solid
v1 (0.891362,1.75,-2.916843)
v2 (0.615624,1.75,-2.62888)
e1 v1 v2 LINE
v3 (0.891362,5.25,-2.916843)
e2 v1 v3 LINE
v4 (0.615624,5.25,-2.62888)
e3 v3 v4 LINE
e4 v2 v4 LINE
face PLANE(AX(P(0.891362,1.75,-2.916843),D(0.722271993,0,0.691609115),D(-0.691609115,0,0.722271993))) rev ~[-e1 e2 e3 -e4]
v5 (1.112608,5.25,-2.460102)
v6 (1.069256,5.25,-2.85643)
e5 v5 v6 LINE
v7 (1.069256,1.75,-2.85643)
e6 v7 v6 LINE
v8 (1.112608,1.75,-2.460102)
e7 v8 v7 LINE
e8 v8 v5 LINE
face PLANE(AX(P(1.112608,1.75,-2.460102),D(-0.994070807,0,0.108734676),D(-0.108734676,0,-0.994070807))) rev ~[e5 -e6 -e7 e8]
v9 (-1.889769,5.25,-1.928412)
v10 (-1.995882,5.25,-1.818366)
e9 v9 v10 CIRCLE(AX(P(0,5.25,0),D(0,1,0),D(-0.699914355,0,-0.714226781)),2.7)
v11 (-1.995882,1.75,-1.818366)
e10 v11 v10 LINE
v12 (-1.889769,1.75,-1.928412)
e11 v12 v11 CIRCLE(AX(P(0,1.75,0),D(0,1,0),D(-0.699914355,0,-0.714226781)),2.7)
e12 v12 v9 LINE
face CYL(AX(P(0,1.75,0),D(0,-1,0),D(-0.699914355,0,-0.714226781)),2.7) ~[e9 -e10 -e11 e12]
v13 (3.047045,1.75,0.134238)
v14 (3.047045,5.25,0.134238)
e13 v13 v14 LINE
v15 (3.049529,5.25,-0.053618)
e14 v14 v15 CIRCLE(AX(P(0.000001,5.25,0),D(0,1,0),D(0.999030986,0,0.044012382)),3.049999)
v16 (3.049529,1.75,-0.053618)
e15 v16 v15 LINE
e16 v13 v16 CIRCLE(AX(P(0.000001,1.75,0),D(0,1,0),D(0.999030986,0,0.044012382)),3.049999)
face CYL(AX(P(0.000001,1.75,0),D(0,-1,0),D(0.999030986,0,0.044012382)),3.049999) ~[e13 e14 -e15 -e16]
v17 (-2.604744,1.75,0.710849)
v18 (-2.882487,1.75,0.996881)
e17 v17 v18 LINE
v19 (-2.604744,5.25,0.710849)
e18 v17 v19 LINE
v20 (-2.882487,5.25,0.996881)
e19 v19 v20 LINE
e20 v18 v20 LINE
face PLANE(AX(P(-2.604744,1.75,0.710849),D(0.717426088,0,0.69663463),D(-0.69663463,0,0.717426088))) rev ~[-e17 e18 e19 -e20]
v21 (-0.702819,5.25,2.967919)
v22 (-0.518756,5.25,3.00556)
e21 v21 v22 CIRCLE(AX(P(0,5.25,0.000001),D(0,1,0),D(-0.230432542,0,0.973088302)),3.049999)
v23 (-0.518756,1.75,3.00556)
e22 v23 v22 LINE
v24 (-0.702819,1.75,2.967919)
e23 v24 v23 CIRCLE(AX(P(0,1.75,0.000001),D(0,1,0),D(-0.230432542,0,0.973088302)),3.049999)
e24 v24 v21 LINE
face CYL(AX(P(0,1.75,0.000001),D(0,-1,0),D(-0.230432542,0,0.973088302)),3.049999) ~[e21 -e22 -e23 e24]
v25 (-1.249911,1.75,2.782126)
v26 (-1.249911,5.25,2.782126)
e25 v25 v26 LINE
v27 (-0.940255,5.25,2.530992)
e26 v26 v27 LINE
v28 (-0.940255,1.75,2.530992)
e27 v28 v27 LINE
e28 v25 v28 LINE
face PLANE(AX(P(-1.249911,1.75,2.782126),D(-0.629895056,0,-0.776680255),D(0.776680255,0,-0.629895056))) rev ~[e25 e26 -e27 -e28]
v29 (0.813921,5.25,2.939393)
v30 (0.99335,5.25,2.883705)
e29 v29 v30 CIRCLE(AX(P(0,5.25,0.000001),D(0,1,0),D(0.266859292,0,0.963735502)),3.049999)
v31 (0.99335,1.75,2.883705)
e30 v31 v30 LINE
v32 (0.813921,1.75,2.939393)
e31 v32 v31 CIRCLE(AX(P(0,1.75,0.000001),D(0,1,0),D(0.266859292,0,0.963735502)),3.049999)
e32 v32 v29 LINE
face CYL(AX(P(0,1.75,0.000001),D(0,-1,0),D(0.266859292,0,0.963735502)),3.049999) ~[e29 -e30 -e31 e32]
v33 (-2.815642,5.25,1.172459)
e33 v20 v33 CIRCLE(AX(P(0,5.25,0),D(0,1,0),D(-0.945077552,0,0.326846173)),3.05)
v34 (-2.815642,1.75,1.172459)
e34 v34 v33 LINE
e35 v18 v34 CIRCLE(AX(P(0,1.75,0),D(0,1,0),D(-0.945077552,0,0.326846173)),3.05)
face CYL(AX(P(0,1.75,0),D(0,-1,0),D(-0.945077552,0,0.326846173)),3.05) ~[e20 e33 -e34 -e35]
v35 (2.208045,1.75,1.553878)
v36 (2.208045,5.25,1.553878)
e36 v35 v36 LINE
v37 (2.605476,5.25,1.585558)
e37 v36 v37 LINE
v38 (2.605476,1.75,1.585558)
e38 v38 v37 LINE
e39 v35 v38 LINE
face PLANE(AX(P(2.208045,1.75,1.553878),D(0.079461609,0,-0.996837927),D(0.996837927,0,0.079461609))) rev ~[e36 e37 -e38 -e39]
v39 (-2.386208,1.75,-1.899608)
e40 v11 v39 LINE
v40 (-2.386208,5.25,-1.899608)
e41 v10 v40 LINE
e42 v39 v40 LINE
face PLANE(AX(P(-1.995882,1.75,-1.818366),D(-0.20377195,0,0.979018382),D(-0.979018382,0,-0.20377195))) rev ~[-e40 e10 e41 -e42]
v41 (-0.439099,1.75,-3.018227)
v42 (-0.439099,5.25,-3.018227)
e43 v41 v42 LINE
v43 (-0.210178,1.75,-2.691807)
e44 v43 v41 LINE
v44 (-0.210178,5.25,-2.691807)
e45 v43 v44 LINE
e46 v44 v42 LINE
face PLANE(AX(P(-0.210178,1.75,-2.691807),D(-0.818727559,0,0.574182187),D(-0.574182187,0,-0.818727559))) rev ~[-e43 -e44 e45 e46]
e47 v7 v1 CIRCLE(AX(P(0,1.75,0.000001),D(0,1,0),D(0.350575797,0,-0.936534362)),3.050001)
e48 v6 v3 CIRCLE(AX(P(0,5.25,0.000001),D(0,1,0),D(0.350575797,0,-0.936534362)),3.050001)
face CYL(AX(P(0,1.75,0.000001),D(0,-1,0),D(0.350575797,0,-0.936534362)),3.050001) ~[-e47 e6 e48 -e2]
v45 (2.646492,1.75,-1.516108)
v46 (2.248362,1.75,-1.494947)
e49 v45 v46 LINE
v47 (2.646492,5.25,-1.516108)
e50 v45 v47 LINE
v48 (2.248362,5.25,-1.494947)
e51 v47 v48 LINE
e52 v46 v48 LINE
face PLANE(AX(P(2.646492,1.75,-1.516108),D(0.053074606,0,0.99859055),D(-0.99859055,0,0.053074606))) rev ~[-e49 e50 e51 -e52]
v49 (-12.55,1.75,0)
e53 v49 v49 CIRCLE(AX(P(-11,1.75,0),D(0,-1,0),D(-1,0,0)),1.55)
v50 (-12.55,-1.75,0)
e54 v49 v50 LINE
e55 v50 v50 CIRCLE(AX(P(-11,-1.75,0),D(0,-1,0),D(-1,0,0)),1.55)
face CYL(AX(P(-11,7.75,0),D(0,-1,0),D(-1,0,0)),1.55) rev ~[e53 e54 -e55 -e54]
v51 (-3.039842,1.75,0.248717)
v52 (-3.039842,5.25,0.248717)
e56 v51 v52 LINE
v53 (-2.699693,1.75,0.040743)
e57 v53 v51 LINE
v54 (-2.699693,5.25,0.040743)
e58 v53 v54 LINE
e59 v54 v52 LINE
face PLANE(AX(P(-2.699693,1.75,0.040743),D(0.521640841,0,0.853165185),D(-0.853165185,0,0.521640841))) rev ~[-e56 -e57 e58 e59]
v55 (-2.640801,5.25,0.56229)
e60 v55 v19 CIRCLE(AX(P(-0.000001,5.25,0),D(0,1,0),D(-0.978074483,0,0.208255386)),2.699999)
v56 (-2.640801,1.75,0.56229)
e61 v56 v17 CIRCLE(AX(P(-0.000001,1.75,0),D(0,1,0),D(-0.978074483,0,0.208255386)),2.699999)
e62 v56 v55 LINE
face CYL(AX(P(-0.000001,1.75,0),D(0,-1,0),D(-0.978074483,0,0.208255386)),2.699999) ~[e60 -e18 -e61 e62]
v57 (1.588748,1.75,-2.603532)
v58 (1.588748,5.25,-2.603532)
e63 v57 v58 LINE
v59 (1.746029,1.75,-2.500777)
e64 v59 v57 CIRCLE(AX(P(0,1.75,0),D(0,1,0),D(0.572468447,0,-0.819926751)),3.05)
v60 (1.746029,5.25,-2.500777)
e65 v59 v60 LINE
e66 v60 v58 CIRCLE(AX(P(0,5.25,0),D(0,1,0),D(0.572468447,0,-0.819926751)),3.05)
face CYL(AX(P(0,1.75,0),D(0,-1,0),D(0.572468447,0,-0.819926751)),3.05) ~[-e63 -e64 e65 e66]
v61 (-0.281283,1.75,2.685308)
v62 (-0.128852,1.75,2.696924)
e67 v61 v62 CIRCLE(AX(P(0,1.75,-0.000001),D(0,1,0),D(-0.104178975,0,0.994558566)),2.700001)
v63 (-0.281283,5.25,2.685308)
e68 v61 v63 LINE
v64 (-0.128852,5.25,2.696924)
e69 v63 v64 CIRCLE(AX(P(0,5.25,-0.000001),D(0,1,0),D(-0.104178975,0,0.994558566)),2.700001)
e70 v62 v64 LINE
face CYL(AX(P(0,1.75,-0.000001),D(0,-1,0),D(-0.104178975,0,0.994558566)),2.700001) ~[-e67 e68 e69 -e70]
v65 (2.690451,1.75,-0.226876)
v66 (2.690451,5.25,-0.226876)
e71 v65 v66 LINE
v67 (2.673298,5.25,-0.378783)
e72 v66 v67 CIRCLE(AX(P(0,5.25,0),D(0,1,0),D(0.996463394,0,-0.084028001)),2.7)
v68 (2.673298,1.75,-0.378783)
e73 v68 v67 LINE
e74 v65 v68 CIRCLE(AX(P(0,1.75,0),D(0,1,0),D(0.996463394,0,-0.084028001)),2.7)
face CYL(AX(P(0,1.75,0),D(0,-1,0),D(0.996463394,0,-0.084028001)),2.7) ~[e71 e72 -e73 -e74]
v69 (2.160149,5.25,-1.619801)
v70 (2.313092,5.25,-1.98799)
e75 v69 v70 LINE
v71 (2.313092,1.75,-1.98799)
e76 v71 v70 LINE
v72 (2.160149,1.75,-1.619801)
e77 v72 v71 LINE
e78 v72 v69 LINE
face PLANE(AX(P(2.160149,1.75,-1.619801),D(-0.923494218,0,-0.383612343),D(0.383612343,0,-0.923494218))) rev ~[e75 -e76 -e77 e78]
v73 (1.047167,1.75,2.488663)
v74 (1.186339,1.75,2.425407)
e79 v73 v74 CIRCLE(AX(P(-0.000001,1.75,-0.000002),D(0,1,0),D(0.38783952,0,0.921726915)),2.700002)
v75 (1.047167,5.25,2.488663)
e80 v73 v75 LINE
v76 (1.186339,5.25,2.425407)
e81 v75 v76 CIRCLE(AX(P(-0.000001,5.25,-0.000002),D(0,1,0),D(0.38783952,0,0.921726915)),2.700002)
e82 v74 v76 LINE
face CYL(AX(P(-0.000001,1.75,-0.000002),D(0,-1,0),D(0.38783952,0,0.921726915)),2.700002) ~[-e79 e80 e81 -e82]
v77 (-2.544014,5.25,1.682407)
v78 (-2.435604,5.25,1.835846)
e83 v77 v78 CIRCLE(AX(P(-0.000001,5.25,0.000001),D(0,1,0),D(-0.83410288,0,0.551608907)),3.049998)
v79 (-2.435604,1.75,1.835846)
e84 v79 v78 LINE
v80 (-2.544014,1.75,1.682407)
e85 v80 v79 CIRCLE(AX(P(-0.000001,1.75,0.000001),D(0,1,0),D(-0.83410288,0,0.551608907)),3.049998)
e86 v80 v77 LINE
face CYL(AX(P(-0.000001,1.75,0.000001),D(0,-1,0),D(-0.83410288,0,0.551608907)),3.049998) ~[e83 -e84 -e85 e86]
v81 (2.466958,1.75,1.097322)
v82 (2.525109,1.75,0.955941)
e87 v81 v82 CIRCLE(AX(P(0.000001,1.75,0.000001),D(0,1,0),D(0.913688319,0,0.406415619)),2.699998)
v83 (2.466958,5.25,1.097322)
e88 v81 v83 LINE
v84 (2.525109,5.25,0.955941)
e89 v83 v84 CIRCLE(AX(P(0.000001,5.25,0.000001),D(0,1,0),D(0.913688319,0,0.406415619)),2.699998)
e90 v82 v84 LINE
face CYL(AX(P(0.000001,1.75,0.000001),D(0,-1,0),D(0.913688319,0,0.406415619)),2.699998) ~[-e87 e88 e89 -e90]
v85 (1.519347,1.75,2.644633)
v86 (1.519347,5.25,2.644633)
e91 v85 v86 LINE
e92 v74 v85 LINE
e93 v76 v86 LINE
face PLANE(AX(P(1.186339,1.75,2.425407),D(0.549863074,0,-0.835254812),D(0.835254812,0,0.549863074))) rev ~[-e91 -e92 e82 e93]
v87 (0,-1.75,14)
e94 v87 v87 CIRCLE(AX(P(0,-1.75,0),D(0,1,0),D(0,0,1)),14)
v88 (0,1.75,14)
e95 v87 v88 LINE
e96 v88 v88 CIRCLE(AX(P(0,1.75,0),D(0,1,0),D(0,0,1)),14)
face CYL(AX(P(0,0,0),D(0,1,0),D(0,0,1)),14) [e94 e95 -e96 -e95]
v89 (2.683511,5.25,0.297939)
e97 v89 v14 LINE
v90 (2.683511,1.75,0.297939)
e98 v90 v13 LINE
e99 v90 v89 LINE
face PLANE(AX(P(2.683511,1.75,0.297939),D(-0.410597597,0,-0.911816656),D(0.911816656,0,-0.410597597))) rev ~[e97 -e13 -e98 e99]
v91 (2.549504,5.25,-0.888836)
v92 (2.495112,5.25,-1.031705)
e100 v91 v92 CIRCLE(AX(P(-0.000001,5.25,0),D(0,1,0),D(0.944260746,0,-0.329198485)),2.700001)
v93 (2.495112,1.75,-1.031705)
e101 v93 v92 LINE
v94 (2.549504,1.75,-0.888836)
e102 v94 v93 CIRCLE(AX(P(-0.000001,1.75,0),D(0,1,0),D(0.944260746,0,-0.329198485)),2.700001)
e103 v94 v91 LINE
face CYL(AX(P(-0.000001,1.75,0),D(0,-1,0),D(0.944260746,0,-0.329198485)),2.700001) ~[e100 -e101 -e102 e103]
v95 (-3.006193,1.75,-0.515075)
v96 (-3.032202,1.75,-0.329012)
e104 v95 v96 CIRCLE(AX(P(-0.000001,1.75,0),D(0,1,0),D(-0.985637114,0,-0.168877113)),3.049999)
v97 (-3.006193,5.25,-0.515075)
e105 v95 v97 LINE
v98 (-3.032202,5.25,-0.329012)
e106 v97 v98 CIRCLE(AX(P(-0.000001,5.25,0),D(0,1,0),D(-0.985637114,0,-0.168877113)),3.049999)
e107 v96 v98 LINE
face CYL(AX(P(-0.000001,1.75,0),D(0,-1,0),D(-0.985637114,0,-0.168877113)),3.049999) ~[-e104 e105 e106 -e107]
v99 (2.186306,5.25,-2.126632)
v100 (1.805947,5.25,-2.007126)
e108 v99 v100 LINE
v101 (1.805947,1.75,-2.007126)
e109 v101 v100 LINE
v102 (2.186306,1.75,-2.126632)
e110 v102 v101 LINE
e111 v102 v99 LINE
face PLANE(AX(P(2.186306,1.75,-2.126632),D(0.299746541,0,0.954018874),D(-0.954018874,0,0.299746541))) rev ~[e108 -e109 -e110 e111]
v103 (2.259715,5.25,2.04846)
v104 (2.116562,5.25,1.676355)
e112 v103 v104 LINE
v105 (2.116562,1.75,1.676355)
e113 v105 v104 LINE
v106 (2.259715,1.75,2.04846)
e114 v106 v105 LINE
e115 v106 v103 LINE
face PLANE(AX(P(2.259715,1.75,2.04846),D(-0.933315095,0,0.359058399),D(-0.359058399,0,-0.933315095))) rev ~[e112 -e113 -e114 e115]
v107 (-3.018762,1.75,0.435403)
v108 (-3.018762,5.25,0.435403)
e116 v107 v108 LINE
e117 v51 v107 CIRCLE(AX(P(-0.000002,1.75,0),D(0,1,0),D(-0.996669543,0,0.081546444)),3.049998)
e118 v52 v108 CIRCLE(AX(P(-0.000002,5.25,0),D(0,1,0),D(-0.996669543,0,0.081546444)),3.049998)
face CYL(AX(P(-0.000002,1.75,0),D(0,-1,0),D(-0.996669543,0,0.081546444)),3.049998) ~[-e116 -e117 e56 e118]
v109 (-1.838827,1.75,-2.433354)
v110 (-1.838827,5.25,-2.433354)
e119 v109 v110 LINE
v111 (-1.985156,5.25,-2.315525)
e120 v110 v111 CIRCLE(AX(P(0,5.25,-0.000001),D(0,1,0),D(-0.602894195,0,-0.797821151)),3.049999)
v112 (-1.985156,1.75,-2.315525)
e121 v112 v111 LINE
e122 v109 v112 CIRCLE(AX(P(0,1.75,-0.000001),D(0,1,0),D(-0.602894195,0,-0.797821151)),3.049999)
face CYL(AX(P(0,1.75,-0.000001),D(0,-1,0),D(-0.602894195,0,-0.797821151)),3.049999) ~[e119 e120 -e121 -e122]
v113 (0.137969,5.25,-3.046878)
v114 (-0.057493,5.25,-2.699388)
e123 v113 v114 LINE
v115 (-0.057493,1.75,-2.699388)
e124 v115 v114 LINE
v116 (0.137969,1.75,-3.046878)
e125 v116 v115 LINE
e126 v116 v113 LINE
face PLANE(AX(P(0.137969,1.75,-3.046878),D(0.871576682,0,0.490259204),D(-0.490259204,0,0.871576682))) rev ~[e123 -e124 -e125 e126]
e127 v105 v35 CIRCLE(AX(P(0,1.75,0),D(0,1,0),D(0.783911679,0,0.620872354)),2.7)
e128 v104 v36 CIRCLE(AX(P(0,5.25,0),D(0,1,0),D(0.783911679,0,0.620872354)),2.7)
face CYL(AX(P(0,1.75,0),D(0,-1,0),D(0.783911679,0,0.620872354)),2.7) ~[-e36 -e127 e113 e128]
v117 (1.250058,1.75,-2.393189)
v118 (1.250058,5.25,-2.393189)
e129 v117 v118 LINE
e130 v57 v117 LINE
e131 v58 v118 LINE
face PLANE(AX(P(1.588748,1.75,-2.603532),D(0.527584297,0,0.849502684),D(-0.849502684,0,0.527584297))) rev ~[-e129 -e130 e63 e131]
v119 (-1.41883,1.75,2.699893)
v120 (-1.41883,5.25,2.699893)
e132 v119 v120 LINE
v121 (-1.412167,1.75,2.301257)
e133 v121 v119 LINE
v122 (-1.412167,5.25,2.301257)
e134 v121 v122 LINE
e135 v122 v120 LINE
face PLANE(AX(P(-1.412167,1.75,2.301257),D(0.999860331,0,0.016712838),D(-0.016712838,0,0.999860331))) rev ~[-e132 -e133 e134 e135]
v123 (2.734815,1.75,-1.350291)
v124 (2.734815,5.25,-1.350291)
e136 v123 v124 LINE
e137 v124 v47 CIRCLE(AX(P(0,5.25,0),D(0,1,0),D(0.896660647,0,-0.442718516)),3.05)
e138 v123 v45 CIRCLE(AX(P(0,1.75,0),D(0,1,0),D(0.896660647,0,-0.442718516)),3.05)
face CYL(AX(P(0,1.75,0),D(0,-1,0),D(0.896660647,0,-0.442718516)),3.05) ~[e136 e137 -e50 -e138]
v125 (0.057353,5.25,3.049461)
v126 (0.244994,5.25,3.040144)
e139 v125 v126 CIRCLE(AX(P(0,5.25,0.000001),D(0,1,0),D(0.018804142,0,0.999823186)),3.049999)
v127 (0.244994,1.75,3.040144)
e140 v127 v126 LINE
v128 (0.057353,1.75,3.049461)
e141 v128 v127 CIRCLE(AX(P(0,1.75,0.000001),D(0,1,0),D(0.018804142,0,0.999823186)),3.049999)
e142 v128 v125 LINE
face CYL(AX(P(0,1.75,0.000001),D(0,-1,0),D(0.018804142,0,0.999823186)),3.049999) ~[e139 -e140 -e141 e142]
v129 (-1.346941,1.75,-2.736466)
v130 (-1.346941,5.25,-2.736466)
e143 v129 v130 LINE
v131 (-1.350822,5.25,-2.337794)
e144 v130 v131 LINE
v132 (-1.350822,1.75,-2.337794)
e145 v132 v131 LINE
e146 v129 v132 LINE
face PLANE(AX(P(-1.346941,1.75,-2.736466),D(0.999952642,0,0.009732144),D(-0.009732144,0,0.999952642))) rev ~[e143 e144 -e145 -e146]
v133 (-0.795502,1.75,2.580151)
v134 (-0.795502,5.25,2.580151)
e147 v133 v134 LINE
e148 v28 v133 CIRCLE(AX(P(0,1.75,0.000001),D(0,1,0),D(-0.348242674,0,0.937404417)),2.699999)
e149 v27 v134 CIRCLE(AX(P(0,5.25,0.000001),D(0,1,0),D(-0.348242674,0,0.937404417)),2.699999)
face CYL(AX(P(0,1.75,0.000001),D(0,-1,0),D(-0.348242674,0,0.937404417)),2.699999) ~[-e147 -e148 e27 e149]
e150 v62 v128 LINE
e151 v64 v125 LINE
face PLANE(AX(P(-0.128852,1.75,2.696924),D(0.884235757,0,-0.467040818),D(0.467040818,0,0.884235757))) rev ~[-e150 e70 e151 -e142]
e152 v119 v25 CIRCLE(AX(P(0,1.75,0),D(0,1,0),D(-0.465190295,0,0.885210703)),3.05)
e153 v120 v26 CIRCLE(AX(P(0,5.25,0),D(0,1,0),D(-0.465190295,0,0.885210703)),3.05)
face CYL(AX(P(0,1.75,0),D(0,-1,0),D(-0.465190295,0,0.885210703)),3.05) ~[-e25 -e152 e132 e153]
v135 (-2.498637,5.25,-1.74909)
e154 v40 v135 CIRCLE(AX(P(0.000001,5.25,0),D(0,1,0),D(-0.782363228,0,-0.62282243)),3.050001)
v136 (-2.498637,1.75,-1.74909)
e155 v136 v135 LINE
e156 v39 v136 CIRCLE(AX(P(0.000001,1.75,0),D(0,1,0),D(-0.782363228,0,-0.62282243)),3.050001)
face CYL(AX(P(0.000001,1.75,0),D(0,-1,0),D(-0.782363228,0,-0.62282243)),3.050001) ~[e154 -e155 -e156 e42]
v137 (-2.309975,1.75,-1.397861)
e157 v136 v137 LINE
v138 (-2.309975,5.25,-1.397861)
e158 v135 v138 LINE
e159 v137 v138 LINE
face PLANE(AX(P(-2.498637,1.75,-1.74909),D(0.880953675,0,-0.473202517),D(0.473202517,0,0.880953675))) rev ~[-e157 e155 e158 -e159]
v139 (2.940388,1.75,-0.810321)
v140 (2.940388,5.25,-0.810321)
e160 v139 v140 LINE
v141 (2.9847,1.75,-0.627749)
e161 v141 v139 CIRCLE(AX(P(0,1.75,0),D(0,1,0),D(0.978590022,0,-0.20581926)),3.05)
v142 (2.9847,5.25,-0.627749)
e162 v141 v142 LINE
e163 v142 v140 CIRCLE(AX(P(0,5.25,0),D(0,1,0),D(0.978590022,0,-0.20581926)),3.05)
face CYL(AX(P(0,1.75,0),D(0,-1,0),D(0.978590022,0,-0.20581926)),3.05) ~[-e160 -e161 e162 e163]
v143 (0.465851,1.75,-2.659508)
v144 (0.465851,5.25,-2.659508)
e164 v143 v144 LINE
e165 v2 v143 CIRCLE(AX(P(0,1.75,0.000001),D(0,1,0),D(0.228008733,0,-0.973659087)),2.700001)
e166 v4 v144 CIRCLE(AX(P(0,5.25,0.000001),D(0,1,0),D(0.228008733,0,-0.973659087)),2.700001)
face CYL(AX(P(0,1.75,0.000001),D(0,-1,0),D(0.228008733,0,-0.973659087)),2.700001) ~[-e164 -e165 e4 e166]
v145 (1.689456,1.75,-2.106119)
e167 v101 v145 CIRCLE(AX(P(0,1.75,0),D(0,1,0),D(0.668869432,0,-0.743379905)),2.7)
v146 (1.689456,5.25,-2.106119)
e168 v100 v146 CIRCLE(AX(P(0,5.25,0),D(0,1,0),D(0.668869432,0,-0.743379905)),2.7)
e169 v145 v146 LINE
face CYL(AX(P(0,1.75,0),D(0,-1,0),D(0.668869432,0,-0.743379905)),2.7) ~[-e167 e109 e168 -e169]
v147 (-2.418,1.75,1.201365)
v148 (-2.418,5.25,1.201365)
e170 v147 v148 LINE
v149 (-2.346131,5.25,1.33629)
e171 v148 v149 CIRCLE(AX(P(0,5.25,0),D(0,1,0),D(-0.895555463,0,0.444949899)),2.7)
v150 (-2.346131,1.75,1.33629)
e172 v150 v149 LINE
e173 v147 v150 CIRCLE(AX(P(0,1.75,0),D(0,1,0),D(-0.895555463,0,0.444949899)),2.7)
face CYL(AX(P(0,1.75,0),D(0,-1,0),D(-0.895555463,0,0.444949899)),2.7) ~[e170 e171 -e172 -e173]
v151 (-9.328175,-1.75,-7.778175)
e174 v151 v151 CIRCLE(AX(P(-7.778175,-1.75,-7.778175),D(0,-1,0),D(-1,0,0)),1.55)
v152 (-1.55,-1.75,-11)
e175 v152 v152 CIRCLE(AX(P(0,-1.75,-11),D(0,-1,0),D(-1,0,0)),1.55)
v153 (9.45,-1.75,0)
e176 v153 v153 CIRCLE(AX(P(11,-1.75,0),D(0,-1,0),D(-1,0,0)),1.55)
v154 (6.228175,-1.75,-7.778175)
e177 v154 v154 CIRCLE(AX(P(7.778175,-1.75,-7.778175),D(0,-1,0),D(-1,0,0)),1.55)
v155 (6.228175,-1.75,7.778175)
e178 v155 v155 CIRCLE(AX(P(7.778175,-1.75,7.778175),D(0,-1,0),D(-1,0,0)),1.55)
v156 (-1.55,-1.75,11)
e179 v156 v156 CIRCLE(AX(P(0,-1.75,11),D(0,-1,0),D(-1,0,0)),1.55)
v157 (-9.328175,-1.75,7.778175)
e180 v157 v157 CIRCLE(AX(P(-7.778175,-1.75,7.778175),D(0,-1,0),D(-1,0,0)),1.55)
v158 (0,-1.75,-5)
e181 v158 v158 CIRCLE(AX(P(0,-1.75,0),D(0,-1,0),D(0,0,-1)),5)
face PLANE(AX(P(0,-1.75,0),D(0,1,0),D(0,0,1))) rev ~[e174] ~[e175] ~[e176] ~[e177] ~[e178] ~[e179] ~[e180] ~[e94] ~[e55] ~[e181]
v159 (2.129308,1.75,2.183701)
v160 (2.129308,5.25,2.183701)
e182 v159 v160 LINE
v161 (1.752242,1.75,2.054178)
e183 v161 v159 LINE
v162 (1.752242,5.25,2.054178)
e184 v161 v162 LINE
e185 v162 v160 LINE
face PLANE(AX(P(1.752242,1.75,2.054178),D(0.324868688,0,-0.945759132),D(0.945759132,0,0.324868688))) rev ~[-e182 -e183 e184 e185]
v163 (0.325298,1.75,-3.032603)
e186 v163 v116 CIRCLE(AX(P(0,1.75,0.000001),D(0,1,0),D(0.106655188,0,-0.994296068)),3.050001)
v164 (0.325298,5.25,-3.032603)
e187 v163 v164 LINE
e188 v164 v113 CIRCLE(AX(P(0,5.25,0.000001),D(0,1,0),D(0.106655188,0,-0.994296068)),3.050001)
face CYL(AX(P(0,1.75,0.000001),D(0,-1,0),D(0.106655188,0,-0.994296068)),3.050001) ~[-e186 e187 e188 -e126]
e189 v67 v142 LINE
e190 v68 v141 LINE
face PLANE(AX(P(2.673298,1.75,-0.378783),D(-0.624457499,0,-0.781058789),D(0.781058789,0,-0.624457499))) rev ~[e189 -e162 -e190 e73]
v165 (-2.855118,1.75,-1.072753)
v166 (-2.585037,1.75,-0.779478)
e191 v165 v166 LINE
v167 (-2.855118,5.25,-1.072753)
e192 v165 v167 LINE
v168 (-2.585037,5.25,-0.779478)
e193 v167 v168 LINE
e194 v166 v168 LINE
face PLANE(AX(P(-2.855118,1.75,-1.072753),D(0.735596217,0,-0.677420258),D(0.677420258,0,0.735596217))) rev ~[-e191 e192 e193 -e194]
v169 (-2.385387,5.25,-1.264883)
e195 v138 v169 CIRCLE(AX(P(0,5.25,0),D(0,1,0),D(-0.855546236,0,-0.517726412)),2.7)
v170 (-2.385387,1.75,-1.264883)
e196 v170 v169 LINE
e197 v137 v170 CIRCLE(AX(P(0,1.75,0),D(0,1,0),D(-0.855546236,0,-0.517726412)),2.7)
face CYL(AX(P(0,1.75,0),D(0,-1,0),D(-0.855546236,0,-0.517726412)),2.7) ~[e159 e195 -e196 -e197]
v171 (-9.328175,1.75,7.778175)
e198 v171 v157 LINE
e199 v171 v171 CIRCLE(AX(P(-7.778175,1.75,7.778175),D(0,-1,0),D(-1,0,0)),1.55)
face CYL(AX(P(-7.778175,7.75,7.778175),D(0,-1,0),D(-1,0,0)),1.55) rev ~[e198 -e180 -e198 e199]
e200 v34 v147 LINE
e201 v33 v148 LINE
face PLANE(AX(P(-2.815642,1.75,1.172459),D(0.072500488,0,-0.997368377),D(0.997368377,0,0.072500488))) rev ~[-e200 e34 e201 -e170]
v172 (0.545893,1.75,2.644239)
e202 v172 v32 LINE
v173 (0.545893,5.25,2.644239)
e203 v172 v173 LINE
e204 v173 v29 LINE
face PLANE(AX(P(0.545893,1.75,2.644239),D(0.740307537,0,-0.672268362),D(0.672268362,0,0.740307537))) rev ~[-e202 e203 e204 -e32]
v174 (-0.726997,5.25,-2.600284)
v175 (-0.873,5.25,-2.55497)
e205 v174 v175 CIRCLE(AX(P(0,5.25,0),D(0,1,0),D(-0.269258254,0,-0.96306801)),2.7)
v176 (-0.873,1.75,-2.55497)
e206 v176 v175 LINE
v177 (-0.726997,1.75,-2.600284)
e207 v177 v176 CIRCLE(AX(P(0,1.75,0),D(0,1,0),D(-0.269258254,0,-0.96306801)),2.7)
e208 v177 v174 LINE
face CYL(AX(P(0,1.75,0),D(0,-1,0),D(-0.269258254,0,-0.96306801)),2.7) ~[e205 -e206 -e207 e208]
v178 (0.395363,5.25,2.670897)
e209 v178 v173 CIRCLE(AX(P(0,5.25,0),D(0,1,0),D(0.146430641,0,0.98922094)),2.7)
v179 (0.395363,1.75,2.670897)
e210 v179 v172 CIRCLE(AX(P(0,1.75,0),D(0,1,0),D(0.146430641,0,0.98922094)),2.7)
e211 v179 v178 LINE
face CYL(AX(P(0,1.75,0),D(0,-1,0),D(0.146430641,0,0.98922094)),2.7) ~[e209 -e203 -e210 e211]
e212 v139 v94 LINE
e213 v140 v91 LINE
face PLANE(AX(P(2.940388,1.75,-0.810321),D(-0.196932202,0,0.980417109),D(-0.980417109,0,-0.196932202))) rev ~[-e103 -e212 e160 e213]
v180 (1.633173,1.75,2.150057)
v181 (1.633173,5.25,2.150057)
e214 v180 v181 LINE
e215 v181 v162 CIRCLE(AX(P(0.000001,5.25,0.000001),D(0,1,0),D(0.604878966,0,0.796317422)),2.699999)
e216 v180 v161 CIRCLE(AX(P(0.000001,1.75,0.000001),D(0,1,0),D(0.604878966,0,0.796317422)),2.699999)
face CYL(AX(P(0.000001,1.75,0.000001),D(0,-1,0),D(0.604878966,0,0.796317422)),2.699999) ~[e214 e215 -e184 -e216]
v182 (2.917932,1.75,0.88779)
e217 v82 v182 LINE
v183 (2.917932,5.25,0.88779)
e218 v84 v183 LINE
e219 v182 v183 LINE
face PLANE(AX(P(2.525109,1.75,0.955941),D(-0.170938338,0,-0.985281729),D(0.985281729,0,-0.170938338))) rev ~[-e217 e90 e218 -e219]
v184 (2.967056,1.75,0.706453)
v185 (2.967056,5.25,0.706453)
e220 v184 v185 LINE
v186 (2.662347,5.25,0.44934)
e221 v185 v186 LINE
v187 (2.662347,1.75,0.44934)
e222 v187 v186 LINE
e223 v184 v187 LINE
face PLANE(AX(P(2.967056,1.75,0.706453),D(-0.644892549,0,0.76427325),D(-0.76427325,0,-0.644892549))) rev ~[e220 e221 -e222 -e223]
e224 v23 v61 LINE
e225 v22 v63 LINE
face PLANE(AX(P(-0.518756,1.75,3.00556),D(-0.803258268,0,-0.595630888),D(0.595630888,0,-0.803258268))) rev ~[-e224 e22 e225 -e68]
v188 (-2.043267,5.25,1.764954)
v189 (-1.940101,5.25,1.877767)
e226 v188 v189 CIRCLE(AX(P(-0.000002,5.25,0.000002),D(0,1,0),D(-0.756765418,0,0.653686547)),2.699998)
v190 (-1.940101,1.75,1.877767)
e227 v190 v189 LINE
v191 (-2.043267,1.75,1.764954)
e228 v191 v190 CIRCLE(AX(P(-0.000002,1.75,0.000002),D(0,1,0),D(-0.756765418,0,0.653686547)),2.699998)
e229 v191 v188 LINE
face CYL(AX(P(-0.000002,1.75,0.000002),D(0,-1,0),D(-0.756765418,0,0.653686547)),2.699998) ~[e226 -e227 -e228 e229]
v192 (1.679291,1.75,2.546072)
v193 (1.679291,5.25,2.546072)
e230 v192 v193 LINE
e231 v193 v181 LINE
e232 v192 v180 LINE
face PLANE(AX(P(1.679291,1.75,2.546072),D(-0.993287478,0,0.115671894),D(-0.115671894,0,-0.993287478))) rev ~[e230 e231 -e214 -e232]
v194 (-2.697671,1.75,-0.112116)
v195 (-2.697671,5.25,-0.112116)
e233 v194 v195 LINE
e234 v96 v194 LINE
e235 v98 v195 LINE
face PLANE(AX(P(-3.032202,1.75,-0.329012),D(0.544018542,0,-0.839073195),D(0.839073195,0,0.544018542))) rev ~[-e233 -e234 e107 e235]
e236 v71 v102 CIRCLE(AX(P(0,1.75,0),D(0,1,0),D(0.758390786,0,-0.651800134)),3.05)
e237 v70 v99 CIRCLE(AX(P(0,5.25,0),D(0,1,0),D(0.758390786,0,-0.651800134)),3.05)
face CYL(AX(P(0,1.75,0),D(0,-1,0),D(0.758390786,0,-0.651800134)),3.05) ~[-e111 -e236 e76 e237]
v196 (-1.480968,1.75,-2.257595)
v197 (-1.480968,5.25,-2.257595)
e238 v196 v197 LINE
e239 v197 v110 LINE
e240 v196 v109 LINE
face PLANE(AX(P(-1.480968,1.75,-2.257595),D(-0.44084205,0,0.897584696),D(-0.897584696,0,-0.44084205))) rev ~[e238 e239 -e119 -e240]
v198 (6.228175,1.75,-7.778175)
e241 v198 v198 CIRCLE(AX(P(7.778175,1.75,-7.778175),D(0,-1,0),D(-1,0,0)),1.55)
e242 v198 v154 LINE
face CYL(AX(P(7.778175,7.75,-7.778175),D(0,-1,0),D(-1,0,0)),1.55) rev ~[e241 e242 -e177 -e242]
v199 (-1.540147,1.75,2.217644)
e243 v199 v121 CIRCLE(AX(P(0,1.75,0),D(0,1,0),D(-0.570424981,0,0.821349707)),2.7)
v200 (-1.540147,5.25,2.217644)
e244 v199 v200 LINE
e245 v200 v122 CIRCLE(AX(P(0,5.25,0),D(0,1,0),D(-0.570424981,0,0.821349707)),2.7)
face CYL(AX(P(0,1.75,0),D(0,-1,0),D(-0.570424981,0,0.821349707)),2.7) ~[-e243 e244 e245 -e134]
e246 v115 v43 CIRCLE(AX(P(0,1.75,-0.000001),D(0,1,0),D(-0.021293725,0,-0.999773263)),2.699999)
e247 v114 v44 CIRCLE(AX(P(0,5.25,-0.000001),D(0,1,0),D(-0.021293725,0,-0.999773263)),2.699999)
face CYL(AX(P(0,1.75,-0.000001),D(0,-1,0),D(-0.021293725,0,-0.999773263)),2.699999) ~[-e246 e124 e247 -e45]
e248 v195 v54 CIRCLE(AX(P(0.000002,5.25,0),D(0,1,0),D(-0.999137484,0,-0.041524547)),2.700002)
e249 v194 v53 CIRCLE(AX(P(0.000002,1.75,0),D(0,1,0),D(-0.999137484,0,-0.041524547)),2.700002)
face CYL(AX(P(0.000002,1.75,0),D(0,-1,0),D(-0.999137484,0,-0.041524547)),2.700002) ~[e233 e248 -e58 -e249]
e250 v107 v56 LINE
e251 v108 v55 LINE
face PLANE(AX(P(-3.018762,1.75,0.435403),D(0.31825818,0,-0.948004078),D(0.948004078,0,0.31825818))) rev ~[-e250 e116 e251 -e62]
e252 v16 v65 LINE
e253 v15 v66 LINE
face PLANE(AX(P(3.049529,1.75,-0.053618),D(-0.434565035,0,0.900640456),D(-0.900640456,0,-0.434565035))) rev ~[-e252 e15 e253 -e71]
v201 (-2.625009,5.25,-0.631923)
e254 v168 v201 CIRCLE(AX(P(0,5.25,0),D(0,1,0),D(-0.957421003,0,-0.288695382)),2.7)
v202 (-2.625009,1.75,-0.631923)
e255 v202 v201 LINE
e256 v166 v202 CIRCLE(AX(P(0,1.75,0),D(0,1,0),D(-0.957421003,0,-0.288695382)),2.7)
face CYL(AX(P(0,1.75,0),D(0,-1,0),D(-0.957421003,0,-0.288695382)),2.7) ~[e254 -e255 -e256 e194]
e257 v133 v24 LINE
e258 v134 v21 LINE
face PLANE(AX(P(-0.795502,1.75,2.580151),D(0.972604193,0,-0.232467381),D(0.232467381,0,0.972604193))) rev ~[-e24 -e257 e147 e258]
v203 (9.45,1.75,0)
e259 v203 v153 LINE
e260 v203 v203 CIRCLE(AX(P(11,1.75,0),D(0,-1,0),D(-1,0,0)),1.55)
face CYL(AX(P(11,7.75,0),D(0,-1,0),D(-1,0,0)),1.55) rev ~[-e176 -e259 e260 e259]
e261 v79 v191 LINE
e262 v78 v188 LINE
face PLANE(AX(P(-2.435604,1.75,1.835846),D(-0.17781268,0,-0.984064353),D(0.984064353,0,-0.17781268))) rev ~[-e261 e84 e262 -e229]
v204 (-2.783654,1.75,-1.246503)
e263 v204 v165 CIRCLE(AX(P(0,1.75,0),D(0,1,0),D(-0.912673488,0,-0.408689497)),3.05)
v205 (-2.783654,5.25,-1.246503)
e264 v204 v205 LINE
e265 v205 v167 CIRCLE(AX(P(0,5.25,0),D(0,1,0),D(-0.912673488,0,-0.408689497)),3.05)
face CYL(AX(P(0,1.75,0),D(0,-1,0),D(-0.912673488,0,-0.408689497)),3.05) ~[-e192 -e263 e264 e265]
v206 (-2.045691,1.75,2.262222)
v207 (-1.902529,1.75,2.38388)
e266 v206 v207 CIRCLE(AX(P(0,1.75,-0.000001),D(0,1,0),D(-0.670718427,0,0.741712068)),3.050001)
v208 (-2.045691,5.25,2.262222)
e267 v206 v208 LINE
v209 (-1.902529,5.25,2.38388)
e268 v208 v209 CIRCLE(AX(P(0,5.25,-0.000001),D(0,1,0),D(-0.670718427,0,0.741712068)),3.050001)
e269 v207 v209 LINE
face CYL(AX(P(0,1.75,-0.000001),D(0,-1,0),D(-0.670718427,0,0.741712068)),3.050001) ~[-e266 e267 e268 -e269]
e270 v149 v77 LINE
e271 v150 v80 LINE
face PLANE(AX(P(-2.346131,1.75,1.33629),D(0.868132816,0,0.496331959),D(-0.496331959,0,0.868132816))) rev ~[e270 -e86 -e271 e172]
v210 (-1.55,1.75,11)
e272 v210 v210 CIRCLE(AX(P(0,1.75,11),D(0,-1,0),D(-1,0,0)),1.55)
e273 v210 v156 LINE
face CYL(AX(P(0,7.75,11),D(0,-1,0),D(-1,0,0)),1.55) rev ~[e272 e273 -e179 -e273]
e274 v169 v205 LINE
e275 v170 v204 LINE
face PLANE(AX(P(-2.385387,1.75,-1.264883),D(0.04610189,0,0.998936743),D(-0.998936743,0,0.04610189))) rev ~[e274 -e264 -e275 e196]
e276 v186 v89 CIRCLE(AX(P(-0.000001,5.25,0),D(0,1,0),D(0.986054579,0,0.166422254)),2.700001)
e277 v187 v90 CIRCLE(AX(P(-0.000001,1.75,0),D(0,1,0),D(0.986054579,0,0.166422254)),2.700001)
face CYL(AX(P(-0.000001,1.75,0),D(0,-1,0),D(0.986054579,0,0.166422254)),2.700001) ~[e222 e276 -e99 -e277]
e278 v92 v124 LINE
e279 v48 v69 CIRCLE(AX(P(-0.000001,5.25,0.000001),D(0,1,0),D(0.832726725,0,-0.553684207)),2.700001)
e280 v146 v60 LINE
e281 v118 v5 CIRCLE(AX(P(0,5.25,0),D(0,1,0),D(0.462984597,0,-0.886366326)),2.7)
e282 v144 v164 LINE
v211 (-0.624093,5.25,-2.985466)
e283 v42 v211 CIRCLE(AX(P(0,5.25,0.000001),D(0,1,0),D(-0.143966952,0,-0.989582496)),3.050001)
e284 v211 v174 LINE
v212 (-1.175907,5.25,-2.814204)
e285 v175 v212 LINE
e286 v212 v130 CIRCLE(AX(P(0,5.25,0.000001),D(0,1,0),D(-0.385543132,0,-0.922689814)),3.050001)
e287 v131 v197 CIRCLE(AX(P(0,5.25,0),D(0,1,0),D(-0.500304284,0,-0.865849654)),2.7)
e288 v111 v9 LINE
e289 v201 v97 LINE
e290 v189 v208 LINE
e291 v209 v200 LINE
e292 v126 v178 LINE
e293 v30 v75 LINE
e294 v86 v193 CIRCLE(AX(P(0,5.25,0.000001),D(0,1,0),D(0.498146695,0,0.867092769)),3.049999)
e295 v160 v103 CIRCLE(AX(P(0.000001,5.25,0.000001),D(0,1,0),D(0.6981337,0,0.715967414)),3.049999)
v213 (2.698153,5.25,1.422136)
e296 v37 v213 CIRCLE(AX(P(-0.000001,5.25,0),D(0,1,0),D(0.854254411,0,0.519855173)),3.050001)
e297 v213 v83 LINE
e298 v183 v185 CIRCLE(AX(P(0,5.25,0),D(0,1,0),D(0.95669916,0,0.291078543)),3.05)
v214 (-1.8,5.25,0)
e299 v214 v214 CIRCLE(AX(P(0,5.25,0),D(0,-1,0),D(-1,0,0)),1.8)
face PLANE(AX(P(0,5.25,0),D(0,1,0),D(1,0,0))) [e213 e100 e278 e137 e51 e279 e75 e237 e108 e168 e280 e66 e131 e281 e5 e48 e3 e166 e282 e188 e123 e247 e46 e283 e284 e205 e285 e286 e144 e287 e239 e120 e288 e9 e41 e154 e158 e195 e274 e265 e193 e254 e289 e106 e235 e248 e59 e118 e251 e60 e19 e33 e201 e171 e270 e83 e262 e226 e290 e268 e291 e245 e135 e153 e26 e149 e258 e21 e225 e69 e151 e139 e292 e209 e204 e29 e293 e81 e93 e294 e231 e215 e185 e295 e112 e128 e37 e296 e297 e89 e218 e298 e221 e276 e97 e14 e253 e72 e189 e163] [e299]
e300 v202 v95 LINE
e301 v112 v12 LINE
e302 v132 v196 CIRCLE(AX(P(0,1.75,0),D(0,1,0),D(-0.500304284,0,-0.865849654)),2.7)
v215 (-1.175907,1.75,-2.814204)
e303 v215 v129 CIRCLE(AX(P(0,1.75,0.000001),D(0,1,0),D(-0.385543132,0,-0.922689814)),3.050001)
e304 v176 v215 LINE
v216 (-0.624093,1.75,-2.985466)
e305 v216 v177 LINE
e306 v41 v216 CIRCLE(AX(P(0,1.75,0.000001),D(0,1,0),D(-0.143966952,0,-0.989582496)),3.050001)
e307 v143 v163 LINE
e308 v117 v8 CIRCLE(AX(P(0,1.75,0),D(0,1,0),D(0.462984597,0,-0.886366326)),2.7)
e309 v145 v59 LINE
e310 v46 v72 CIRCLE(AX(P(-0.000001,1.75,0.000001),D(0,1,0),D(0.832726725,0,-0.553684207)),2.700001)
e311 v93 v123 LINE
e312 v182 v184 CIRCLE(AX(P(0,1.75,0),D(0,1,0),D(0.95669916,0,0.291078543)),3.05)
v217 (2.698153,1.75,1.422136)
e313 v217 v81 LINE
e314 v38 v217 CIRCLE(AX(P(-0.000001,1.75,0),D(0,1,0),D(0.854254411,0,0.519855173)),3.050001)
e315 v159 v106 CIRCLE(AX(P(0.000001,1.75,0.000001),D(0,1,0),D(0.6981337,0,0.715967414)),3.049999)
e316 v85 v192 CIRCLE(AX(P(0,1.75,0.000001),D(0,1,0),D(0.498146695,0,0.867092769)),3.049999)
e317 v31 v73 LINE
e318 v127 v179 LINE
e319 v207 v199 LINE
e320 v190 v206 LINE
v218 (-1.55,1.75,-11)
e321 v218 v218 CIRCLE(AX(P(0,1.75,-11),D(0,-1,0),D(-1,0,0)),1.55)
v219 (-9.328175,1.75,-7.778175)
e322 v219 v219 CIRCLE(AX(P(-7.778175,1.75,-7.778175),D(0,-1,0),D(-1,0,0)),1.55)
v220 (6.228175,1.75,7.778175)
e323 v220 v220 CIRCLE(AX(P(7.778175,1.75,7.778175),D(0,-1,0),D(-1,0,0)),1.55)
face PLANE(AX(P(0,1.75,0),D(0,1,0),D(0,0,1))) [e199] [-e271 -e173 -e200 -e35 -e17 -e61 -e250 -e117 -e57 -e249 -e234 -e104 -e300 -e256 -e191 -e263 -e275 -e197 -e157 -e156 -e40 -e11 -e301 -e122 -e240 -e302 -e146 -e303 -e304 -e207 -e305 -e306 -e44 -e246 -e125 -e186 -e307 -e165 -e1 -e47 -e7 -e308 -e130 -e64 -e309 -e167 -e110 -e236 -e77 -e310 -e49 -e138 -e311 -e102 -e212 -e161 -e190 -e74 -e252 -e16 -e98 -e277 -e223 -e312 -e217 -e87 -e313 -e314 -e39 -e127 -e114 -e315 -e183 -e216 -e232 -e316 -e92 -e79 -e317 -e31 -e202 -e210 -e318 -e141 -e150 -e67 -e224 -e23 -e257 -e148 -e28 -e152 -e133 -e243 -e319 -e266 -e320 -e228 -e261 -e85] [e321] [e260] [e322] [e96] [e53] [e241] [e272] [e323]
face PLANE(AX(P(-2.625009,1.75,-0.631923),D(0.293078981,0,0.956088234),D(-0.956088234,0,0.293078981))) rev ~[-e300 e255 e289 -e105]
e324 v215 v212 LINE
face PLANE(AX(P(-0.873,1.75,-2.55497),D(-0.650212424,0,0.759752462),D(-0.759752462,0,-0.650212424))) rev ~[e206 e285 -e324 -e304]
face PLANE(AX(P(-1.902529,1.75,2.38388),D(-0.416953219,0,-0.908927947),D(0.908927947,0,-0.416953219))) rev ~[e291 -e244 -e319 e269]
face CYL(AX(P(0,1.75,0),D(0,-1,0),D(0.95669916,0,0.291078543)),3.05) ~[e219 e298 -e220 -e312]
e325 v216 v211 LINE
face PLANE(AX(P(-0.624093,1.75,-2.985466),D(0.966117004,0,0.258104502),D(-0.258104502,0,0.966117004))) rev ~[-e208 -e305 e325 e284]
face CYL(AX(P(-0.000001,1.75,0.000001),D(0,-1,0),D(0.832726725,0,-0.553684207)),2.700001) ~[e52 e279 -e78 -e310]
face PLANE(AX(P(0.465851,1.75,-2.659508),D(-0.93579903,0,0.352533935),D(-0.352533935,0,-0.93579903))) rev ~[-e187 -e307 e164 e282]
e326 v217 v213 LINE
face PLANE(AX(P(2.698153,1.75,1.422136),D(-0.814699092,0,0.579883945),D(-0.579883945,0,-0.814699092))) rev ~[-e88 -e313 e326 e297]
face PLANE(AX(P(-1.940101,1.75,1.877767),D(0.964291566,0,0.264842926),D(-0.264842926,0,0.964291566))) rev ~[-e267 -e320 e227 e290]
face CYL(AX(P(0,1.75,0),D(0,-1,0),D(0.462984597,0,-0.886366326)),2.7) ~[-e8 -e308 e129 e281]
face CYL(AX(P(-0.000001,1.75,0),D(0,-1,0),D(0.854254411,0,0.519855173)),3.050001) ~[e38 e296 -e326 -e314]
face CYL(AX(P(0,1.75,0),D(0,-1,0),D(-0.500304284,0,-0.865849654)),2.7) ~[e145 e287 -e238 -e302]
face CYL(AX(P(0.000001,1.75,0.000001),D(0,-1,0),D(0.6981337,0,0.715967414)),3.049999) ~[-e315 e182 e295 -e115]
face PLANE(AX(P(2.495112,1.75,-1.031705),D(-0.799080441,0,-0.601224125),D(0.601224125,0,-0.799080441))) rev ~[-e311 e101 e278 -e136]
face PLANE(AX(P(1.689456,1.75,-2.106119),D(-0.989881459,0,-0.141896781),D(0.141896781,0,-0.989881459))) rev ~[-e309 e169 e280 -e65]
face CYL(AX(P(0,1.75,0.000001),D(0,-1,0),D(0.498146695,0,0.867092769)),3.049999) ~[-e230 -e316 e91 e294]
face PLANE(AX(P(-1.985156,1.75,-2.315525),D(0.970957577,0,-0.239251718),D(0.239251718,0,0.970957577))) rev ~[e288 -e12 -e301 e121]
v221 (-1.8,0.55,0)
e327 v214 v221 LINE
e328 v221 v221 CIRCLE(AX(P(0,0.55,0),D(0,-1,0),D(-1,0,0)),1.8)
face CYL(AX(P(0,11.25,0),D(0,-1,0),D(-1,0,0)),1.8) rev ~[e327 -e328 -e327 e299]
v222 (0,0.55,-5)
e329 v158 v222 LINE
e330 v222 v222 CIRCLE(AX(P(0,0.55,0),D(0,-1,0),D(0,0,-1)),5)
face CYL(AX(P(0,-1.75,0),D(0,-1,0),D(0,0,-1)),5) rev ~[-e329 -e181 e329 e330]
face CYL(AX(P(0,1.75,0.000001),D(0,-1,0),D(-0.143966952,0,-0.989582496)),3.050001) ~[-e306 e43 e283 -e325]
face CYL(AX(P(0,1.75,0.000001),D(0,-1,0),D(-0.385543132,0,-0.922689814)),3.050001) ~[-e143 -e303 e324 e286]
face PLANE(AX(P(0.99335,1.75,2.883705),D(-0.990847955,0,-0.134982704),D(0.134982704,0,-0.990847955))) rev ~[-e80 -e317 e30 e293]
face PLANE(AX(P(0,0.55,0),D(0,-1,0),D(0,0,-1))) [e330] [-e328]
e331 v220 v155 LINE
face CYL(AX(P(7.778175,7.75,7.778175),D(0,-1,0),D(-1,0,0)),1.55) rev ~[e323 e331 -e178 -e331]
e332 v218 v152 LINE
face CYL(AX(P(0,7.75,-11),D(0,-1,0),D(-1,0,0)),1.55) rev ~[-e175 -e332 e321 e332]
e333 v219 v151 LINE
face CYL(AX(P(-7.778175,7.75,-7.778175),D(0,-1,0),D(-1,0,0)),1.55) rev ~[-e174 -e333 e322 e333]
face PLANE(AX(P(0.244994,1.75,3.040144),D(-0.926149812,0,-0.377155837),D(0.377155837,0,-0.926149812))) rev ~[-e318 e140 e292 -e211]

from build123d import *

# Parameters (mm, degrees)
SKETCH1_R                  = 14
BOSS_EXTRUDE1_DEPTH        = 1.75
M2_5_CLEARANCE_HOLE1_D     = 3.1
M2_5_CLEARANCE_HOLE1_DEPTH = 6
M2_5_CLEARANCE_HOLE1_TIP   = 0.931333959
SKETCH7_R                  = 5
CUT_EXTRUDE1_DEPTH         = 2.3
BOSS_EXTRUDE3_DEPTH        = 3.5
M3_CLEARANCE_HOLE1_D       = 3.6
M3_CLEARANCE_HOLE1_DEPTH   = 6
M3_CLEARANCE_HOLE1_TIP     = 1.081549114


with BuildPart() as part:
    # Sketch1 → Boss-Extrude1 (new, symmetric)
    with BuildSketch(Plane(origin=(0, 0, 0), x_dir=(1, 0, 0), z_dir=(0, 1, 0))):
        with Locations(Location((0, 0, 0), (0, 0, 270))):
            Circle(SKETCH1_R)
    extrude(amount=BOSS_EXTRUDE1_DEPTH, both=True)

    # M2.5 Clearance Hole1
    with Locations(Plane(origin=(0, 1.75, 0), x_dir=(1, 0, 0), z_dir=(0, 1, 0))):
        with Locations((-11, 0), (-7.778174593, 7.778174593), (0, 11), (7.778174593, 7.778174593), (11, 0), (7.778174593, -7.778174593), (0, -11), (-7.778174593, -7.778174593)):
            Hole(M2_5_CLEARANCE_HOLE1_D / 2, depth=M2_5_CLEARANCE_HOLE1_DEPTH)
            with Locations((0, 0, -(M2_5_CLEARANCE_HOLE1_DEPTH + M2_5_CLEARANCE_HOLE1_TIP / 2))):  # 118° drill point
                Cone(0, M2_5_CLEARANCE_HOLE1_D / 2, M2_5_CLEARANCE_HOLE1_TIP, mode=Mode.SUBTRACT)

    # Sketch7 → Cut-Extrude1 (cut)
    with BuildSketch(Plane.XZ.offset(1.75)):
        with Locations(Location((0, 0, 0), (0, 0, 270))):
            Circle(SKETCH7_R)
    extrude(amount=-CUT_EXTRUDE1_DEPTH, mode=Mode.SUBTRACT)

    # Sketch8 → Boss-Extrude3 (add)
    with BuildSketch(Plane(origin=(0, 1.75, 0), x_dir=(1, 0, 0), z_dir=(0, 1, 0))):
        with BuildLine():
            Line((-0.128852443, -2.696923627), (0.057352661, -3.049460718))
            ThreePointArc((0.057352661, -3.049460718), (0.151245078, -3.04624768), (0.244993995, -3.040144395))
            Line((0.244993995, -3.040144395), (0.395362741, -2.670896535))
            ThreePointArc((0.395362741, -2.670896535), (0.470816738, -2.658633408), (0.545893326, -2.644239111))
            Line((0.545893326, -2.644239111), (0.813920864, -2.939393275))
            ThreePointArc((0.813920864, -2.939393275), (0.904064427, -2.912931086), (0.993350224, -2.883705139))
            Line((0.993350224, -2.883705139), (1.047166652, -2.488662694))
            ThreePointArc((1.047166652, -2.488662694), (1.117200406, -2.458020189), (1.18633861, -2.425407327))
            Line((1.18633861, -2.425407327), (1.519347425, -2.644632943))
            ThreePointArc((1.519347425, -2.644632943), (1.600078084, -2.596584319), (1.679290606, -2.546072084))
            Line((1.679290606, -2.546072084), (1.63317323, -2.150057022))
            ThreePointArc((1.63317323, -2.150057022), (1.693386265, -2.102960522), (1.752241875, -2.054178281))
            Line((1.752241875, -2.054178281), (2.1293078, -2.183700596))
            ThreePointArc((2.1293078, -2.183700596), (2.19555295, -2.11708461), (2.259714983, -2.048459957))
            Line((2.259714983, -2.048459957), (2.116561528, -1.676355361))
            ThreePointArc((2.116561528, -1.676355361), (2.163170436, -1.615764111), (2.208045339, -1.553877659))
            Line((2.208045339, -1.553877659), (2.605475935, -1.58555831))
            ThreePointArc((2.605475935, -1.58555831), (2.653073149, -1.504560688), (2.698153157, -1.422135556))
            Line((2.698153157, -1.422135556), (2.466958481, -1.097322127))
            ThreePointArc((2.466958481, -1.097322127), (2.497034654, -1.027043299), (2.525109194, -0.955941189))
            Line((2.525109194, -0.955941189), (2.917932434, -0.887789563))
            ThreePointArc((2.917932434, -0.887789563), (2.943891005, -0.797499685), (2.967056445, -0.706453148))
            Line((2.967056445, -0.706453148), (2.66234736, -0.449340108))
            ThreePointArc((2.66234736, -0.449340108), (2.674001, -0.373789578), (2.683511152, -0.297939418))
            Line((2.683511152, -0.297939418), (3.047044507, -0.134237734))
            ThreePointArc((3.047044507, -0.134237734), (3.049733363, -0.040328844), (3.049528665, 0.053618309))
            Line((3.049528665, 0.053618309), (2.690451163, 0.226875602))
            ThreePointArc((2.690451163, 0.226875602), (2.68295003, 0.302950716), (2.673298235, 0.378782983))
            Line((2.673298235, 0.378782983), (2.984699568, 0.627748746))
            ThreePointArc((2.984699568, 0.627748746), (2.963949757, 0.719376006), (2.940387783, 0.810320731))
            Line((2.940387783, 0.810320731), (2.549504025, 0.888835884))
            ThreePointArc((2.549504025, 0.888835884), (2.523319442, 0.960655502), (2.495112158, 1.031705055))
            Line((2.495112158, 1.031705055), (2.734814978, 1.350291464))
            ThreePointArc((2.734814978, 1.350291464), (2.691930287, 1.433879817), (2.646491522, 1.516107721))
            Line((2.646491522, 1.516107721), (2.248362172, 1.494947338))
            ThreePointArc((2.248362172, 1.494947338), (2.205139413, 1.55799877), (2.160149007, 1.619801305))
            Line((2.160149007, 1.619801305), (2.313091905, 1.987990402))
            ThreePointArc((2.313091905, 1.987990402), (2.250766937, 2.058287685), (2.186306467, 2.126632087))
            Line((2.186306467, 2.126632087), (1.805947455, 2.007125753))
            ThreePointArc((1.805947455, 2.007125753), (1.748402365, 2.057447246), (1.68945575, 2.106119481))
            Line((1.68945575, 2.106119481), (1.74602876, 2.500776593))
            ThreePointArc((1.74602876, 2.500776593), (1.668179623, 2.553365768), (1.588747735, 2.603532338))
            Line((1.588747735, 2.603532338), (1.250058417, 2.393189076))
            ThreePointArc((1.250058417, 2.393189076), (1.181806766, 2.427618744), (1.112607775, 2.460102424))
            Line((1.112607775, 2.460102424), (1.069256207, 2.856429793))
            ThreePointArc((1.069256207, 2.856429793), (0.980774447, 2.888006489), (0.89136214, 2.916843077))
            Line((0.89136214, 2.916843077), (0.615623612, 2.628879527))
            ThreePointArc((0.615623612, 2.628879527), (0.540953902, 2.645254028), (0.465850562, 2.659508085))
            Line((0.465850562, 2.659508085), (0.325298354, 3.032603004))
            ThreePointArc((0.325298354, 3.032603004), (0.231743607, 3.041183141), (0.137968984, 3.046877838))
            Line((0.137968984, 3.046877838), (-0.057493089, 2.699387809))
            ThreePointArc((-0.057493089, 2.699387809), (-0.133889085, 2.696678274), (-0.210177756, 2.691807071))
            Line((-0.210177756, 2.691807071), (-0.439099191, 3.018226615))
            ThreePointArc((-0.439099191, 3.018226615), (-0.531848537, 3.003271072), (-0.624093271, 2.985466059))
            Line((-0.624093271, 2.985466059), (-0.726997287, 2.600283627))
            ThreePointArc((-0.726997287, 2.600283627), (-0.800319329, 2.578660305), (-0.872999832, 2.55496992))
            Line((-0.872999832, 2.55496992), (-1.175906519, 2.814203948))
            ThreePointArc((-1.175906519, 2.814203948), (-1.262022681, 2.776652436), (-1.346941451, 2.736466467))
            Line((-1.346941451, 2.736466467), (-1.350821572, 2.337794062))
            ThreePointArc((-1.350821572, 2.337794062), (-1.416462566, 2.298615626), (-1.480968118, 2.257594612))
            Line((-1.480968118, 2.257594612), (-1.838827315, 2.433354496))
            ThreePointArc((-1.838827315, 2.433354496), (-1.912899299, 2.375566516), (-1.985156345, 2.315524624))
            Line((-1.985156345, 2.315524624), (-1.88976877, 1.928412299))
            ThreePointArc((-1.88976877, 1.928412299), (-1.943604251, 1.874140474), (-1.995881731, 1.818366332))
            Line((-1.995881731, 1.818366332), (-2.386207829, 1.899608433))
            ThreePointArc((-2.386207829, 1.899608433), (-2.443581419, 1.825215014), (-2.498636566, 1.749089852))
            Line((-2.498636566, 1.749089852), (-2.309974846, 1.397861298))
            ThreePointArc((-2.309974846, 1.397861298), (-2.348622132, 1.331906183), (-2.385386754, 1.264883407))
            Line((-2.385386754, 1.264883407), (-2.783654129, 1.246502985))
            ThreePointArc((-2.783654129, 1.246502985), (-2.820724331, 1.160178541), (-2.855118261, 1.072753333))
            Line((-2.855118261, 1.072753333), (-2.585036707, 0.779477531))
            ThreePointArc((-2.585036707, 0.779477531), (-2.606067447, 0.705983328), (-2.625009154, 0.631923206))
            Line((-2.625009154, 0.631923206), (-3.006193202, 0.51507517))
            ThreePointArc((-3.006193202, 0.51507517), (-3.02063076, 0.422243783), (-3.032202376, 0.329011776))
            Line((-3.032202376, 0.329011776), (-2.697671205, 0.112116324))
            ThreePointArc((-2.697671205, 0.112116324), (-2.69976396, 0.035700944), (-2.699692576, -0.040743054))
            Line((-2.699692576, -0.040743054), (-3.0398421, -0.248716711))
            ThreePointArc((-3.0398421, -0.248716711), (-3.030739849, -0.342222105), (-3.018762064, -0.435402801))
            Line((-3.018762064, -0.435402801), (-2.640801099, -0.562289564))
            ThreePointArc((-2.640801099, -0.562289564), (-2.623824375, -0.636824661), (-2.604744383, -0.710849278))
            Line((-2.604744383, -0.710849278), (-2.88248654, -0.996880808))
            ThreePointArc((-2.88248654, -0.996880808), (-2.850416406, -1.085184919), (-2.815641829, -1.172459418))
            Line((-2.815641829, -1.172459418), (-2.417999748, -1.201364731))
            ThreePointArc((-2.417999748, -1.201364731), (-2.383020254, -1.269336231), (-2.346130522, -1.336290227))
            Line((-2.346130522, -1.336290227), (-2.544013749, -1.682407216))
            ThreePointArc((-2.544013749, -1.682407216), (-2.490990819, -1.759961574), (-2.435604463, -1.835846099))
            Line((-2.435604463, -1.835846099), (-2.04326658, -1.764953733))
            ThreePointArc((-2.04326658, -1.764953733), (-1.992482207, -1.822090738), (-1.940100652, -1.877767147))
            Line((-1.940100652, -1.877767147), (-2.045691219, -2.262221792))
            ThreePointArc((-2.045691219, -2.262221792), (-1.975047116, -2.32415337), (-1.902529111, -2.383879817))
            Line((-1.902529111, -2.383879817), (-1.540147459, -2.217644202))
            ThreePointArc((-1.540147459, -2.217644202), (-1.476749174, -2.260356582), (-1.412167122, -2.301257052))
            Line((-1.412167122, -2.301257052), (-1.418830385, -2.699892653))
            ThreePointArc((-1.418830385, -2.699892653), (-1.33500394, -2.742310063), (-1.249910858, -2.782125599))
            Line((-1.249910858, -2.782125599), (-0.940255208, -2.530991929))
            ThreePointArc((-0.940255208, -2.530991929), (-0.86822656, -2.556595909), (-0.795501939, -2.580150512))
            Line((-0.795501939, -2.580150512), (-0.70281922, -2.967919329))
            ThreePointArc((-0.70281922, -2.967919329), (-0.611077556, -2.988157329), (-0.518756109, -3.005560197))
            Line((-0.518756109, -3.005560197), (-0.281283264, -2.685308125))
            ThreePointArc((-0.281283264, -2.685308125), (-0.205150078, -2.692194912), (-0.128852443, -2.696923627))
        make_face()
    extrude(amount=BOSS_EXTRUDE3_DEPTH)

    # M3 Clearance Hole1
    with Locations(Plane(origin=(0, 5.25, 0), x_dir=(1, 0, 0), z_dir=(0, 1, 0))):
        with Locations((0, 0)):
            Hole(M3_CLEARANCE_HOLE1_D / 2, depth=M3_CLEARANCE_HOLE1_DEPTH)
            with Locations((0, 0, -(M3_CLEARANCE_HOLE1_DEPTH + M3_CLEARANCE_HOLE1_TIP / 2))):  # 118° drill point
                Cone(0, M3_CLEARANCE_HOLE1_D / 2, M3_CLEARANCE_HOLE1_TIP, mode=Mode.SUBTRACT)


solid = part.part
